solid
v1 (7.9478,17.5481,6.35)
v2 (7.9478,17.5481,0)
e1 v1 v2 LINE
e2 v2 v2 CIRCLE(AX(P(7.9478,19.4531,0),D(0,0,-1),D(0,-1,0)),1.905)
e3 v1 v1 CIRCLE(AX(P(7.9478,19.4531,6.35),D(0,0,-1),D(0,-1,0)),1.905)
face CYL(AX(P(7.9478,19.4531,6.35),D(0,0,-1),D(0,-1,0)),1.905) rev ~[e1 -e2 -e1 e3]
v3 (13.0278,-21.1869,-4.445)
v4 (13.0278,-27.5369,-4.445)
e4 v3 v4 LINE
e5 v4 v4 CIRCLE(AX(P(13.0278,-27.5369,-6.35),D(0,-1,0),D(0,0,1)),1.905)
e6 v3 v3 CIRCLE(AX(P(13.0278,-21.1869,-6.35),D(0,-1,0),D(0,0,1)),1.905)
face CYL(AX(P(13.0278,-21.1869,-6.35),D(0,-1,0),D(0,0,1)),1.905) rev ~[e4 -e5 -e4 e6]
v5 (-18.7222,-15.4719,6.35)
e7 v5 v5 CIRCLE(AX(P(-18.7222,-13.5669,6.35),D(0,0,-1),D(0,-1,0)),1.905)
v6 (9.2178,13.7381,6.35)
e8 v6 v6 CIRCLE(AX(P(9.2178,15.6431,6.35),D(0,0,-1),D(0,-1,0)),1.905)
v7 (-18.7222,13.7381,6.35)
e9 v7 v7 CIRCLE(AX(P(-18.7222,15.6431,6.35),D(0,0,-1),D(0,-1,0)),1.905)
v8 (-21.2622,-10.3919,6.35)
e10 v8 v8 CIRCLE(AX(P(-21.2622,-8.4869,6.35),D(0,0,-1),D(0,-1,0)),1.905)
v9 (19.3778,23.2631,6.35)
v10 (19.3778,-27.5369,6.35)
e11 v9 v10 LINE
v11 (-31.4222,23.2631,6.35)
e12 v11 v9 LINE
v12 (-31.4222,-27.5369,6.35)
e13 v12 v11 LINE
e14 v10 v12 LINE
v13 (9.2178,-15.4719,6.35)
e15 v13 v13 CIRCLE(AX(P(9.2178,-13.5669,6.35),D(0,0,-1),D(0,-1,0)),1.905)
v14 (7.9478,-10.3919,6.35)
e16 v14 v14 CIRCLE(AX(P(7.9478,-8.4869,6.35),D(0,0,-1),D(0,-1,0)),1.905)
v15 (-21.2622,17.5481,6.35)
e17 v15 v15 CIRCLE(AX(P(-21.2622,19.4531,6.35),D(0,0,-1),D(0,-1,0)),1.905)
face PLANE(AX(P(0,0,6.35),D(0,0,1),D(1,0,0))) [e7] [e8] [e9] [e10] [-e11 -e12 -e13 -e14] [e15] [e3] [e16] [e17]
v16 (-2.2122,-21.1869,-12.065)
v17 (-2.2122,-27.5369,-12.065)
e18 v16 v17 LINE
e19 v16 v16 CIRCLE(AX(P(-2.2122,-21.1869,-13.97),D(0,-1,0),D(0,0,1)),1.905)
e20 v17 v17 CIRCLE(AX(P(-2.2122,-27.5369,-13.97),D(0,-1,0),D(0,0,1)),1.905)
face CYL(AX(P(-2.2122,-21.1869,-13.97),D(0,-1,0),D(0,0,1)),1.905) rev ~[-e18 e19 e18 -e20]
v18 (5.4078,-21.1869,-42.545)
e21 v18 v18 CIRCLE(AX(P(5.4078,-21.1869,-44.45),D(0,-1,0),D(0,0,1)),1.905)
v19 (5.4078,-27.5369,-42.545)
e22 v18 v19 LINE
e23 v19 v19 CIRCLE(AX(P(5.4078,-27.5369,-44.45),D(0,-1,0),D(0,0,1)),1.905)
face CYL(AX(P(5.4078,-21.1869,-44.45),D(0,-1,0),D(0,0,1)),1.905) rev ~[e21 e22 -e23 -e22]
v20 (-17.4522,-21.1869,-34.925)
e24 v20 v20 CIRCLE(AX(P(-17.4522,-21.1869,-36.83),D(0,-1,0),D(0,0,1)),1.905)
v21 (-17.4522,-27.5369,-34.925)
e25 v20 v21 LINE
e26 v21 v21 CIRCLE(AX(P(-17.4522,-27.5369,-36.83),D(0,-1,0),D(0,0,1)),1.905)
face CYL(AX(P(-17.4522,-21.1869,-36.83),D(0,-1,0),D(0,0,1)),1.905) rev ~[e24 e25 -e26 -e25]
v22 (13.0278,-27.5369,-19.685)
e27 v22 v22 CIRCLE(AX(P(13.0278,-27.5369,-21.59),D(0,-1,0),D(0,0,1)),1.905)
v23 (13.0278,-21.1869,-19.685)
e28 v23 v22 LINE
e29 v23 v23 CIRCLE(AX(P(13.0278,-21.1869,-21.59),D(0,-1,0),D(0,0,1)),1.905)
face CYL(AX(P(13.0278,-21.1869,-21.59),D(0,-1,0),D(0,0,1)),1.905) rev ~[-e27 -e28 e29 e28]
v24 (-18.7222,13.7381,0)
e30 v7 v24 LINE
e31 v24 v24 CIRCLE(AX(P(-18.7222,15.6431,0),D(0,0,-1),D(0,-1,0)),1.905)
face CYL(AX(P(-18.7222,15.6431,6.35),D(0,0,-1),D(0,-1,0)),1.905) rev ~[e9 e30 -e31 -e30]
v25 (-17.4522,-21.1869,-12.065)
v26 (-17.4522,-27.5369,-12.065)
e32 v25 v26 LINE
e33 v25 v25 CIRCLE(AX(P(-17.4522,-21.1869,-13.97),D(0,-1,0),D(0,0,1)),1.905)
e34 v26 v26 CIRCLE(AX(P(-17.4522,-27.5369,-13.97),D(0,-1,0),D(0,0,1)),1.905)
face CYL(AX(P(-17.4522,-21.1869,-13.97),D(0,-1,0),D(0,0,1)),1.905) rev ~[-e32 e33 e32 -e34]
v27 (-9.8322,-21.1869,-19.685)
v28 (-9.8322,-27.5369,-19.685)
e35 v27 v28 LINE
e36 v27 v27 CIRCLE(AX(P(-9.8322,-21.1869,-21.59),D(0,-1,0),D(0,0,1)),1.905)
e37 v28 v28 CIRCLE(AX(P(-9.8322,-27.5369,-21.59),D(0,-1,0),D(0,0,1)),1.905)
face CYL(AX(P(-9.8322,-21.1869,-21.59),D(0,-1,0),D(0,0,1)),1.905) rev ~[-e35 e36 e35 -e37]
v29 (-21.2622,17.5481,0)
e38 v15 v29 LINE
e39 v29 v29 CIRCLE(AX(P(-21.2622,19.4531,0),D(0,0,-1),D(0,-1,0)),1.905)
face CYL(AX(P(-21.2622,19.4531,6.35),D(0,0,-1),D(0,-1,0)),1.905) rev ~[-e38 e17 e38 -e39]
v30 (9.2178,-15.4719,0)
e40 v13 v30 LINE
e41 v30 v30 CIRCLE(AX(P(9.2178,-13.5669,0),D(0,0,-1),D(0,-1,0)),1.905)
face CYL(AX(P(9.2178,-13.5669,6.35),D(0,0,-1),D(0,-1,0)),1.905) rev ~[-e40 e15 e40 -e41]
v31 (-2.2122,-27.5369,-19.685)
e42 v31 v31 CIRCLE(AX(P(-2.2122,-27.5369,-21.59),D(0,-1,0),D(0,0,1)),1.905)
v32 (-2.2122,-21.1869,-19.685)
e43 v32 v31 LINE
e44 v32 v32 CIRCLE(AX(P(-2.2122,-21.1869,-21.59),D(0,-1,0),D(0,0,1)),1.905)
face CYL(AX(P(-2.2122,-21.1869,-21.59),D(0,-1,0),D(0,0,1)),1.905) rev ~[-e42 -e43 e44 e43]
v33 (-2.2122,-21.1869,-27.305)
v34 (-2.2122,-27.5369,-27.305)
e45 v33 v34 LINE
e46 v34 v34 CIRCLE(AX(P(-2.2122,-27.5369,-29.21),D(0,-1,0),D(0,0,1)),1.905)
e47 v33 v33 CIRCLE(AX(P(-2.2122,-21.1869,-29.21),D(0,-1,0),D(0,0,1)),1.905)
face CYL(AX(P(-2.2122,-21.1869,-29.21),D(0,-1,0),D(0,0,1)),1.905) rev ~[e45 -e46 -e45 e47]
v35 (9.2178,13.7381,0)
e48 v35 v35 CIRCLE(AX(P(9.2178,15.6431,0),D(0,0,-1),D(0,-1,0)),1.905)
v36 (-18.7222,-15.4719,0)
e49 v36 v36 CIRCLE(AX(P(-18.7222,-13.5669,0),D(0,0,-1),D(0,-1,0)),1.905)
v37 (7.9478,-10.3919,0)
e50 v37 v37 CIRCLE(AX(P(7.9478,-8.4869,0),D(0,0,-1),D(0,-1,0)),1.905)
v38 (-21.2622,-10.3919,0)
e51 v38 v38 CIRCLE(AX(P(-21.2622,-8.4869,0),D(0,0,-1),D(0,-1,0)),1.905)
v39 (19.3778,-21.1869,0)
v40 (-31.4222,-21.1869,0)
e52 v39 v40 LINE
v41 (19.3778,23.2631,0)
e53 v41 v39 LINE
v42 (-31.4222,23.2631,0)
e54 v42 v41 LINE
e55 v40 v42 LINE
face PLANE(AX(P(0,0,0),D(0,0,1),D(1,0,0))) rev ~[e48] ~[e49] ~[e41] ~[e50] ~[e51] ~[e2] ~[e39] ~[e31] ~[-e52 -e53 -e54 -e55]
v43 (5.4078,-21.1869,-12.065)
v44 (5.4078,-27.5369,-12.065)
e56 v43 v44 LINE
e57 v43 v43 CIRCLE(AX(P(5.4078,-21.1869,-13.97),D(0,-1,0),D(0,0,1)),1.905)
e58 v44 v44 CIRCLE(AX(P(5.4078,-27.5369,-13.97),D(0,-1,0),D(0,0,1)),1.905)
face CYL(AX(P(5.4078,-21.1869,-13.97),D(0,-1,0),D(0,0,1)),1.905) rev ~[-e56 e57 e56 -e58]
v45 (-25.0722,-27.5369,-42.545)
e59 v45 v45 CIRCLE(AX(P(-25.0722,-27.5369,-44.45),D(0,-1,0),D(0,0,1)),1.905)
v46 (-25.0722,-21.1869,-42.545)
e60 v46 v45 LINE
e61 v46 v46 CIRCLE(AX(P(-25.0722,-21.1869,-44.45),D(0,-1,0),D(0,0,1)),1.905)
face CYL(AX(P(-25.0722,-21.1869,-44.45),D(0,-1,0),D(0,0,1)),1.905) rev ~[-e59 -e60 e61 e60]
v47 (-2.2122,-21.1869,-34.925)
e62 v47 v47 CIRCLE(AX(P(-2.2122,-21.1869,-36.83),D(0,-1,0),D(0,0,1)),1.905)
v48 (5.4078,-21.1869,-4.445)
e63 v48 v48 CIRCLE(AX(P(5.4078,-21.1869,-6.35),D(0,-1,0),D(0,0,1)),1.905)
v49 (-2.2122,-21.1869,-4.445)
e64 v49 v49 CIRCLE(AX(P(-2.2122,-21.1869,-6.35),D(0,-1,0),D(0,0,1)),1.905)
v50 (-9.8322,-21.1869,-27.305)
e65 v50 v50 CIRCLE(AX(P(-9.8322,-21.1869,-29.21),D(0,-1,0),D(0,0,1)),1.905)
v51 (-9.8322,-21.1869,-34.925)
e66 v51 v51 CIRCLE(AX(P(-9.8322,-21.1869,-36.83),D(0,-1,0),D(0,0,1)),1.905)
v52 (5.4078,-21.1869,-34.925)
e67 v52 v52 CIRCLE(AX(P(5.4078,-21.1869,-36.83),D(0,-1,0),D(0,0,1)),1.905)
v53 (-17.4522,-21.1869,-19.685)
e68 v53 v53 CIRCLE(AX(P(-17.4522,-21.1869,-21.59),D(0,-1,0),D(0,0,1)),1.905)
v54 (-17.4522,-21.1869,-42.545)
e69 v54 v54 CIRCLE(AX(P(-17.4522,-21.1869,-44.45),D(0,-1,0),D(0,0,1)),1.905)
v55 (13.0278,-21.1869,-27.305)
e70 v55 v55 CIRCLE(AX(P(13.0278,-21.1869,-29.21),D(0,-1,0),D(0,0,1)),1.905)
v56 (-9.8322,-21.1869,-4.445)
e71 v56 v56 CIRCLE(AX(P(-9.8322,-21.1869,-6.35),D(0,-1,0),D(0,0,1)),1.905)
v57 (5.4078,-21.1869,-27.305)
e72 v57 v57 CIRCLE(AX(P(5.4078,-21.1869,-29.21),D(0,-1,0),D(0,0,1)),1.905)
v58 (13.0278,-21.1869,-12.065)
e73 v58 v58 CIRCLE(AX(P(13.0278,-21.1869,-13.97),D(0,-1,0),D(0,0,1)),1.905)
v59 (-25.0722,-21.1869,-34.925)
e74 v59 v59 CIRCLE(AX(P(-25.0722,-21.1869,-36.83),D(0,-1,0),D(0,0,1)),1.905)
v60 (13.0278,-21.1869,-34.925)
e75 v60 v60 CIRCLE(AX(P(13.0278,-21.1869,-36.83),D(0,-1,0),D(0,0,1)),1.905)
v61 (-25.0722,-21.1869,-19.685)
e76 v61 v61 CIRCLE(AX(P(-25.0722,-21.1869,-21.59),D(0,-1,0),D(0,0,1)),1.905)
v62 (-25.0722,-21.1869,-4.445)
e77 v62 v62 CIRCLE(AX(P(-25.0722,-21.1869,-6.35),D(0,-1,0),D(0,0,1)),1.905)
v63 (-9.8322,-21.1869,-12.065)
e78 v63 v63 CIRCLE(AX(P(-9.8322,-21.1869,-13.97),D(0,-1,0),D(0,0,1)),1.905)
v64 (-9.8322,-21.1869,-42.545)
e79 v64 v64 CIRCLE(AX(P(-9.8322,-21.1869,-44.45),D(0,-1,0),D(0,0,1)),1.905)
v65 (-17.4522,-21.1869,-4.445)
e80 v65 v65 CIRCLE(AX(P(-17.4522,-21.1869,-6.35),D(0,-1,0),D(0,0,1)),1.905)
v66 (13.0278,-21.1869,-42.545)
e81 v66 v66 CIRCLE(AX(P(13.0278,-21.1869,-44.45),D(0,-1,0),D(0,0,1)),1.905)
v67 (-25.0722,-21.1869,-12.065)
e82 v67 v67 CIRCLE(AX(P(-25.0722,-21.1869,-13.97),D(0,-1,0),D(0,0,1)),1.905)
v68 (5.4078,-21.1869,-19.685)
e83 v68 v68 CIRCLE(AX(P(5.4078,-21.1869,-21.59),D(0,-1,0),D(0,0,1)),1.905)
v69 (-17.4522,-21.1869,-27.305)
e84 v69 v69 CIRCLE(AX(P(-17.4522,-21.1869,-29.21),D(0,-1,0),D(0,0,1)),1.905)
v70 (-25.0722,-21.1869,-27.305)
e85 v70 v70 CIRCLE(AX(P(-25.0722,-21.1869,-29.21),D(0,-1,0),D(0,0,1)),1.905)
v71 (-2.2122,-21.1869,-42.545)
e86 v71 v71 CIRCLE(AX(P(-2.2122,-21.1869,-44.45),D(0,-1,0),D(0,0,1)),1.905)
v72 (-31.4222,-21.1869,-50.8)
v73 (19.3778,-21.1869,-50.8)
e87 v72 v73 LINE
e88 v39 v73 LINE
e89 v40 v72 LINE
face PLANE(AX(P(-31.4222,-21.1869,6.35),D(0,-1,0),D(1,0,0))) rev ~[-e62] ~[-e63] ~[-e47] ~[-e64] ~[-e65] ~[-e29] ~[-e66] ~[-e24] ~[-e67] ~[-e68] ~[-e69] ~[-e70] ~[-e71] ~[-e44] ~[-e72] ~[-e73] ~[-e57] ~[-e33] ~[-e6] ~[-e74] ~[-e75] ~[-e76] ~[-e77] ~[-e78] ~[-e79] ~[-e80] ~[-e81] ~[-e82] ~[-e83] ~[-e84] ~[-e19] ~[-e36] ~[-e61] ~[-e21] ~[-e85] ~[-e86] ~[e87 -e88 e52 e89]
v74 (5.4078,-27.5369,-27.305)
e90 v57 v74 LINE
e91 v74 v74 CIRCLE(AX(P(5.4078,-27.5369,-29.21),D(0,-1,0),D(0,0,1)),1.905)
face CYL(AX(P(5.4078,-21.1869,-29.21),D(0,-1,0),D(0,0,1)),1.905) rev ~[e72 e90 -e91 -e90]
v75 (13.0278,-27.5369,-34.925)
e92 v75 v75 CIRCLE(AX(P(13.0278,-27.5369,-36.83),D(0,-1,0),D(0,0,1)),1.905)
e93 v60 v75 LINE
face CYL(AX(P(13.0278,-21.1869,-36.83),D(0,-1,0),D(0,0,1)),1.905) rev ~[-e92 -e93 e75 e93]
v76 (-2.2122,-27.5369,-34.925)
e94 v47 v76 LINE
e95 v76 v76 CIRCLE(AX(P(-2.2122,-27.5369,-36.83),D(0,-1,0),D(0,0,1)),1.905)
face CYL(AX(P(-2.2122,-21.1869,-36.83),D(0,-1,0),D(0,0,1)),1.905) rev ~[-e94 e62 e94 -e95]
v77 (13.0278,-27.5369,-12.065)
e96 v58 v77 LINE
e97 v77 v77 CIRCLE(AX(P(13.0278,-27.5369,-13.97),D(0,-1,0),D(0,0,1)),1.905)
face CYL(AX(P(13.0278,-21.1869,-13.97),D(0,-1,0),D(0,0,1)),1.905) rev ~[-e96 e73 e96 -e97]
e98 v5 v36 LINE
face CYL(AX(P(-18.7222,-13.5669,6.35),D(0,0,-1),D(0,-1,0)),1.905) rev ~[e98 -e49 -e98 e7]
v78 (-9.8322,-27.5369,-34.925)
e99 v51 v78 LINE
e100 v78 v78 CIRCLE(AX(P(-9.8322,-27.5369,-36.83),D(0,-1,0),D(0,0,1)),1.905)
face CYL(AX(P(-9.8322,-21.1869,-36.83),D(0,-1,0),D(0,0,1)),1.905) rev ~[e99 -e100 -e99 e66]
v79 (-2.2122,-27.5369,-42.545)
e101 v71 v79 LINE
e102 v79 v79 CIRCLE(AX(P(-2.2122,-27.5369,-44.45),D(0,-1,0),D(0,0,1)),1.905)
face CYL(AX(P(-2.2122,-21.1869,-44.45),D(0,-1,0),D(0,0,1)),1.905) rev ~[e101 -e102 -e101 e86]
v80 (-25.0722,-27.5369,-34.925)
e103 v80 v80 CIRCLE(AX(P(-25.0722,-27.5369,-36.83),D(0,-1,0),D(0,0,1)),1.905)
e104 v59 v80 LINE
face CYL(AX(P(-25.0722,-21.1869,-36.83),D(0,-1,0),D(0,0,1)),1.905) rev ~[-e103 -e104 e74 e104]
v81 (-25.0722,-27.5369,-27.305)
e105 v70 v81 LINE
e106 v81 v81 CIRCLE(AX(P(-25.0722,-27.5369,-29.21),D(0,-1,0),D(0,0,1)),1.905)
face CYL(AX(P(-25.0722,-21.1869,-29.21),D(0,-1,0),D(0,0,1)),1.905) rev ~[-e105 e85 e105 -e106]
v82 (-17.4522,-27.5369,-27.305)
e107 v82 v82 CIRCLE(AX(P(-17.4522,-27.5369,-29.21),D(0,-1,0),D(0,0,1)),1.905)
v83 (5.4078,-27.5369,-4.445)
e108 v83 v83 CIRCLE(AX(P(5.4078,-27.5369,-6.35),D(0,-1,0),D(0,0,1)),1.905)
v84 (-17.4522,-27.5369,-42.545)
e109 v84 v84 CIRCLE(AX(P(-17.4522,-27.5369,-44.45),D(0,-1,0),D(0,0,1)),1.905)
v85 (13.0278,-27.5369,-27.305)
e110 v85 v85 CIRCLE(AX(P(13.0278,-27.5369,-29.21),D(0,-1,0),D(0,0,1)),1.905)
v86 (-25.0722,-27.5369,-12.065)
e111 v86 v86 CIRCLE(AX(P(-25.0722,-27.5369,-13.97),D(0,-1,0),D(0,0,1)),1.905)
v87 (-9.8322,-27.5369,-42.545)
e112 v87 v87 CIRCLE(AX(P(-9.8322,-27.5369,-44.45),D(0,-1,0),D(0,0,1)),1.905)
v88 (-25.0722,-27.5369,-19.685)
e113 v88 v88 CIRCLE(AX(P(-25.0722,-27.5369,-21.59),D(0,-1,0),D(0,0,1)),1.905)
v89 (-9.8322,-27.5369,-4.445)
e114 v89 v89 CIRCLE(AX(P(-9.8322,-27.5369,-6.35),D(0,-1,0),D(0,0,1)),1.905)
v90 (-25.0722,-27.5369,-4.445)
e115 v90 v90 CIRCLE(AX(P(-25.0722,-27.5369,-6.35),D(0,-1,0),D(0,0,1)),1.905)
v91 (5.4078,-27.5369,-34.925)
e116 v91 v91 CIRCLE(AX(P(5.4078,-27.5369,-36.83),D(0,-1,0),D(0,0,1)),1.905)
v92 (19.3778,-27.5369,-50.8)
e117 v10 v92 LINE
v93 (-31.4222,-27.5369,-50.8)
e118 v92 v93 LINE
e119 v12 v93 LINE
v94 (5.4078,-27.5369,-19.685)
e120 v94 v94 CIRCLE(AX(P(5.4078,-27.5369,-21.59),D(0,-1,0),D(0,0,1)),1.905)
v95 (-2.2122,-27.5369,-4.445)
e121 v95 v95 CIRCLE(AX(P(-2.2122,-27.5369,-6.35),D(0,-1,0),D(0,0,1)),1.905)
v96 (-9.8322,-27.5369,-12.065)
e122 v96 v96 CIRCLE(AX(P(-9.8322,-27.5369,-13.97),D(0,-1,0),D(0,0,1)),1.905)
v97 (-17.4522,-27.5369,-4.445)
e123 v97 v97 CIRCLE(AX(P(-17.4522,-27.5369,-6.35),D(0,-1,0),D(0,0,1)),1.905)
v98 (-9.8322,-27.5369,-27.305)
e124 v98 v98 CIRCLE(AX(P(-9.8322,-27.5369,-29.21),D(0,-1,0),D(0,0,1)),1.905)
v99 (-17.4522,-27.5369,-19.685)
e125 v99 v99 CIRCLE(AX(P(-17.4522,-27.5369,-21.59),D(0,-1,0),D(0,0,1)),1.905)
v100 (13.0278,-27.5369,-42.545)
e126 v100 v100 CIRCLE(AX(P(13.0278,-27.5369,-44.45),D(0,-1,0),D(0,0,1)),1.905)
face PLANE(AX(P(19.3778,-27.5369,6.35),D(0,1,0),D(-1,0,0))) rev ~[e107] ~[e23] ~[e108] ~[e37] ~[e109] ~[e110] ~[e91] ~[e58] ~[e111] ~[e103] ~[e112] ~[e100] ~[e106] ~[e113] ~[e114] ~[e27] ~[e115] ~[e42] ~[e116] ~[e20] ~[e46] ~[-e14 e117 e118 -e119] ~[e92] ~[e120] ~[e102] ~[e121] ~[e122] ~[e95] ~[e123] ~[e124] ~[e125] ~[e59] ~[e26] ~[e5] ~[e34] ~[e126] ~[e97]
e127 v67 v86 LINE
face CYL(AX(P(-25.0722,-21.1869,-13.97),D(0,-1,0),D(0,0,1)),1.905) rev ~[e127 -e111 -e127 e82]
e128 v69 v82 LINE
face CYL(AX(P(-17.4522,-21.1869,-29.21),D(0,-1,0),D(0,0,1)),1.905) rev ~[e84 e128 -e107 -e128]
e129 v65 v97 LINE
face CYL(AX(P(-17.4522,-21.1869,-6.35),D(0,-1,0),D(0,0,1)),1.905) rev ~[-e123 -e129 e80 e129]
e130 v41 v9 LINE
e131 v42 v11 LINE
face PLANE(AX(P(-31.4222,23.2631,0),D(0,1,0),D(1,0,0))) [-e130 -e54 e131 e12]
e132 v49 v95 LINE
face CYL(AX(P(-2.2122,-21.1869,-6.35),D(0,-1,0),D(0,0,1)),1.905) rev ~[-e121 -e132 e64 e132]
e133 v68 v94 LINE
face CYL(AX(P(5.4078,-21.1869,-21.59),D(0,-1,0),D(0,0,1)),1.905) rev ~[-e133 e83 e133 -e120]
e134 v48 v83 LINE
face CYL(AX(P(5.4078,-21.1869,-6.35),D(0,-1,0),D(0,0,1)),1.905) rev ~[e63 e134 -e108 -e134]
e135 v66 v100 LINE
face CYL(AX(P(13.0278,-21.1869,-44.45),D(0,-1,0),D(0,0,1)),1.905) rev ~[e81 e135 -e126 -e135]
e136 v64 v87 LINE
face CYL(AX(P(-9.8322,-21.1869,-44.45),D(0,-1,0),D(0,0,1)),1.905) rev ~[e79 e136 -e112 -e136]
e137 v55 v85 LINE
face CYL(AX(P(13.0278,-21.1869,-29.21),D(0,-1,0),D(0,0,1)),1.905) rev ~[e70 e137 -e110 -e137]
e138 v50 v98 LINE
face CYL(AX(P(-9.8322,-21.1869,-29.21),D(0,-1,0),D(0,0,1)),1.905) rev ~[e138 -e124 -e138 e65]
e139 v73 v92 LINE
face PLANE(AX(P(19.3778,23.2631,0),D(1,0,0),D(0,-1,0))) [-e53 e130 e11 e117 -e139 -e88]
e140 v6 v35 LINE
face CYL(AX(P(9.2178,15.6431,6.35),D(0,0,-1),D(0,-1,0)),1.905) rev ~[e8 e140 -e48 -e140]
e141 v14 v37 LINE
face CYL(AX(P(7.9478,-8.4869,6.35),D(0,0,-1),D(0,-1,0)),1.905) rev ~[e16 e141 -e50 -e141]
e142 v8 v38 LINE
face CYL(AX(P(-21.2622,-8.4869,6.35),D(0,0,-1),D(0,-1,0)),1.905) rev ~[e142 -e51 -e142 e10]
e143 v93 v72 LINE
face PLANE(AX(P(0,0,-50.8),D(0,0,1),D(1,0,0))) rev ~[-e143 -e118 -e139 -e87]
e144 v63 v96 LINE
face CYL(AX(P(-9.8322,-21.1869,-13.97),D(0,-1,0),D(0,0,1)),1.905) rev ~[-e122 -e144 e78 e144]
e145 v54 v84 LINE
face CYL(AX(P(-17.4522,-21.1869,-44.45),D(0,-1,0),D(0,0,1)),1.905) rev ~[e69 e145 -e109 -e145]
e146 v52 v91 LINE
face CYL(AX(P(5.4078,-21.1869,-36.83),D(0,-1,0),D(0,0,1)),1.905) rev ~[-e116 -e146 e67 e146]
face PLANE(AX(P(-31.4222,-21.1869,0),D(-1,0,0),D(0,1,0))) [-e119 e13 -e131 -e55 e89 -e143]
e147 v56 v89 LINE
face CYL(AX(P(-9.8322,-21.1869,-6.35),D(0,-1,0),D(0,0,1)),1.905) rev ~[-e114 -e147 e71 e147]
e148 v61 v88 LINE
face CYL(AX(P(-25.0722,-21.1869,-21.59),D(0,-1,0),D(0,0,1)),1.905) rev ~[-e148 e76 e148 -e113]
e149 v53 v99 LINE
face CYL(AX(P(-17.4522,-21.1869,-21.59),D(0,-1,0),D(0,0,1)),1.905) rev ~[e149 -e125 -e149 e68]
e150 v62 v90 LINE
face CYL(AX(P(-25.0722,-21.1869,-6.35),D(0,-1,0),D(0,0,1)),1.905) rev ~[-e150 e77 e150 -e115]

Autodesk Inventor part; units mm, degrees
ref_plane "YZ Plane" through (0, 0, 0) normal (1, 0, 0) x (0, 1, 0)
ref_plane "XZ Plane" through (0, 0, 0) normal (0, 1, 0) x (-1, 0, 0)
ref_plane "XY Plane" through (0, 0, 0) normal (0, 0, 1) x (1, 0, 0)
sketch "Sketch1" plane through (0, 0, 0) normal (0, 0, 1) x (1, 0, 0)
  line L0 (-31.4222, 23.2631) -> (19.3778, 23.2631)
  line L1 (19.3778, 23.2631) -> (19.3778, -21.1869)
  line L2 (19.3778, -21.1869) -> (-31.4222, -21.1869)
  line L3 (-31.4222, -21.1869) -> (-31.4222, 23.2631)
  point P0 (0, 0)
  dimension "d0" = 44.45
  dimension "d1" = 50.8
extrude "Extrusion1" add sketch "Sketch1" along normal blind 6.35
sketch "Sketch2" plane through (0, 0, 6.35) normal (0, 0, 1) x (1, 0, 0)
  line L0 (-31.4222, -21.1869) -> (19.3778, -21.1869)
  line L1 (19.3778, -21.1869) -> (19.3778, -27.5369)
  line L2 (19.3778, -27.5369) -> (-31.4222, -27.5369)
  line L3 (-31.4222, -27.5369) -> (-31.4222, -21.1869)
  line L4 (19.3778, -21.1869) -> (19.3778, 23.2631) projected
  line L5 (-31.4222, 23.2631) -> (-31.4222, -21.1869) projected
  line L6 (-31.4222, -21.1869) -> (19.3778, -21.1869) projected
  point P0 (0, 0)
  dimension "d4" = 0
  dimension "d5" = 0
  dimension "d6" = 6.35
  dimension "d7" = 0
extrude "Extrusion2" add sketch "Sketch2" against normal blind 57.15
sketch "Sketch3" plane through (0, 0, 6.35) normal (0, 0, 1) x (1, 0, 0)
  line L0 (19.3778, 23.2631) -> (-31.4222, 23.2631) projected
  line L1 (-31.4222, 23.2631) -> (-31.4222, -27.5369) projected
  line L2 (19.3778, 23.2631) -> (19.3778, -27.5369) projected
  point P0 (0, 0)
  point P1 (-21.2622, 19.4531)
  point P2 (-21.2622, -8.4869)
  point P3 (7.9478, 19.4531)
  point P4 (7.9478, -8.4869)
  dimension "d10" = 29.21
  dimension "d11" = 0
  dimension "d12" = 0
  dimension "d13" = 0
  dimension "d14" = 27.94
  dimension "d15" = 3.81
  dimension "d16" = 10.16
  dimension "d17" = 11.43
  dimension "d25" = 0
hole "Hole1" at (-21.2622, 19.4531, 6.35) at (-21.2622, -8.4869, 6.35) at (7.9478, 19.4531, 6.35) at (7.9478, -8.4869, 6.35) direction (0, 0, -1) diameter 3.81 depth 25.4 tip angle 118
sketch "Sketch4" plane through (0, 0, 6.35) normal (0, 0, 1) x (1, 0, 0)
  circle A0 centre (-21.2622, 19.4531) radius 1.905 projected
  point P0 (0, 0)
  point P1 (-18.7222, 15.6431)
  point P2 (9.2178, 15.6431)
  point P3 (9.2178, -13.5669)
  point P4 (-18.7222, -13.5669)
  dimension "d26" = 0
  dimension "d27" = 0
  dimension "d28" = 0
  dimension "d29" = 0
  dimension "d30" = 29.21
  dimension "d31" = 27.94
  dimension "d42" = 2.54
  dimension "d43" = 3.81
hole "Hole2" at (-18.7222, 15.6431, 6.35) at (9.2178, 15.6431, 6.35) at (9.2178, -13.5669, 6.35) at (-18.7222, -13.5669, 6.35) direction (0, 0, -1) diameter 3.81 depth 25.4 tip angle 118
sketch "Sketch5" plane through (-31.4222, -21.1869, 0) normal (0, 1, 0) x (1, 0, 0)
  line L0 (50.8, 0) -> (50.8, 50.8) projected
  line L1 (0, 50.8) -> (50.8, 50.8) projected
  point P0 (31.4222, 0)
  point P1 (44.45, 44.45)
  point P2 (44.45, 36.83)
  point P3 (44.45, 29.21)
  point P4 (44.45, 21.59)
  point P5 (44.45, 13.97)
  point P6 (44.45, 6.35)
  point P7 (36.83, 6.35)
  point P8 (36.83, 13.97)
  point P9 (36.83, 21.59)
  point P10 (36.83, 29.21)
  point P11 (36.83, 36.83)
  point P12 (36.83, 44.45)
  point P13 (29.21, 6.35)
  point P14 (29.21, 13.97)
  point P15 (29.21, 21.59)
  point P16 (29.21, 29.21)
  point P17 (29.21, 36.83)
  point P18 (29.21, 44.45)
  point P19 (21.59, 6.35)
  point P20 (21.59, 13.97)
  point P21 (21.59, 21.59)
  point P22 (21.59, 29.21)
  point P23 (21.59, 36.83)
  point P24 (21.59, 44.45)
  point P25 (13.97, 6.35)
  point P26 (13.97, 13.97)
  point P27 (13.97, 21.59)
  point P28 (13.97, 29.21)
  point P29 (13.97, 36.83)
  point P30 (13.97, 44.45)
  point P31 (6.35, 6.35)
  point P32 (6.35, 13.97)
  point P33 (6.35, 21.59)
  point P34 (6.35, 29.21)
  point P35 (6.35, 36.83)
  point P36 (6.35, 44.45)
  dimension "d44" = 6.35
  dimension "d45" = 6.35
  dimension "d48" = 7.62
  dimension "d58" = 7.62
hole "Hole3" at (13.0278, -21.1869, -44.45) at (13.0278, -21.1869, -36.83) at (13.0278, -21.1869, -29.21) at (13.0278, -21.1869, -21.59) at (13.0278, -21.1869, -13.97) at (13.0278, -21.1869, -6.35) at (5.4078, -21.1869, -6.35) at (5.4078, -21.1869, -13.97) at (5.4078, -21.1869, -21.59) at (5.4078, -21.1869, -29.21) at (5.4078, -21.1869, -36.83) at (5.4078, -21.1869, -44.45) at (-2.2122, -21.1869, -6.35) at (-2.2122, -21.1869, -13.97) at (-2.2122, -21.1869, -21.59) at (-2.2122, -21.1869, -29.21) at (-2.2122, -21.1869, -36.83) at (-2.2122, -21.1869, -44.45) at (-9.8322, -21.1869, -6.35) at (-9.8322, -21.1869, -13.97) at (-9.8322, -21.1869, -21.59) at (-9.8322, -21.1869, -29.21) at (-9.8322, -21.1869, -36.83) at (-9.8322, -21.1869, -44.45) at (-17.4522, -21.1869, -6.35) at (-17.4522, -21.1869, -13.97) at (-17.4522, -21.1869, -21.59) at (-17.4522, -21.1869, -29.21) at (-17.4522, -21.1869, -36.83) at (-17.4522, -21.1869, -44.45) at (-25.0722, -21.1869, -6.35) at (-25.0722, -21.1869, -13.97) at (-25.0722, -21.1869, -21.59) at (-25.0722, -21.1869, -29.21) at (-25.0722, -21.1869, -36.83) at (-25.0722, -21.1869, -44.45) direction (0, -1, 0) diameter 3.81 depth 25.4 tip angle 118
properties part number "LidarMount2"
